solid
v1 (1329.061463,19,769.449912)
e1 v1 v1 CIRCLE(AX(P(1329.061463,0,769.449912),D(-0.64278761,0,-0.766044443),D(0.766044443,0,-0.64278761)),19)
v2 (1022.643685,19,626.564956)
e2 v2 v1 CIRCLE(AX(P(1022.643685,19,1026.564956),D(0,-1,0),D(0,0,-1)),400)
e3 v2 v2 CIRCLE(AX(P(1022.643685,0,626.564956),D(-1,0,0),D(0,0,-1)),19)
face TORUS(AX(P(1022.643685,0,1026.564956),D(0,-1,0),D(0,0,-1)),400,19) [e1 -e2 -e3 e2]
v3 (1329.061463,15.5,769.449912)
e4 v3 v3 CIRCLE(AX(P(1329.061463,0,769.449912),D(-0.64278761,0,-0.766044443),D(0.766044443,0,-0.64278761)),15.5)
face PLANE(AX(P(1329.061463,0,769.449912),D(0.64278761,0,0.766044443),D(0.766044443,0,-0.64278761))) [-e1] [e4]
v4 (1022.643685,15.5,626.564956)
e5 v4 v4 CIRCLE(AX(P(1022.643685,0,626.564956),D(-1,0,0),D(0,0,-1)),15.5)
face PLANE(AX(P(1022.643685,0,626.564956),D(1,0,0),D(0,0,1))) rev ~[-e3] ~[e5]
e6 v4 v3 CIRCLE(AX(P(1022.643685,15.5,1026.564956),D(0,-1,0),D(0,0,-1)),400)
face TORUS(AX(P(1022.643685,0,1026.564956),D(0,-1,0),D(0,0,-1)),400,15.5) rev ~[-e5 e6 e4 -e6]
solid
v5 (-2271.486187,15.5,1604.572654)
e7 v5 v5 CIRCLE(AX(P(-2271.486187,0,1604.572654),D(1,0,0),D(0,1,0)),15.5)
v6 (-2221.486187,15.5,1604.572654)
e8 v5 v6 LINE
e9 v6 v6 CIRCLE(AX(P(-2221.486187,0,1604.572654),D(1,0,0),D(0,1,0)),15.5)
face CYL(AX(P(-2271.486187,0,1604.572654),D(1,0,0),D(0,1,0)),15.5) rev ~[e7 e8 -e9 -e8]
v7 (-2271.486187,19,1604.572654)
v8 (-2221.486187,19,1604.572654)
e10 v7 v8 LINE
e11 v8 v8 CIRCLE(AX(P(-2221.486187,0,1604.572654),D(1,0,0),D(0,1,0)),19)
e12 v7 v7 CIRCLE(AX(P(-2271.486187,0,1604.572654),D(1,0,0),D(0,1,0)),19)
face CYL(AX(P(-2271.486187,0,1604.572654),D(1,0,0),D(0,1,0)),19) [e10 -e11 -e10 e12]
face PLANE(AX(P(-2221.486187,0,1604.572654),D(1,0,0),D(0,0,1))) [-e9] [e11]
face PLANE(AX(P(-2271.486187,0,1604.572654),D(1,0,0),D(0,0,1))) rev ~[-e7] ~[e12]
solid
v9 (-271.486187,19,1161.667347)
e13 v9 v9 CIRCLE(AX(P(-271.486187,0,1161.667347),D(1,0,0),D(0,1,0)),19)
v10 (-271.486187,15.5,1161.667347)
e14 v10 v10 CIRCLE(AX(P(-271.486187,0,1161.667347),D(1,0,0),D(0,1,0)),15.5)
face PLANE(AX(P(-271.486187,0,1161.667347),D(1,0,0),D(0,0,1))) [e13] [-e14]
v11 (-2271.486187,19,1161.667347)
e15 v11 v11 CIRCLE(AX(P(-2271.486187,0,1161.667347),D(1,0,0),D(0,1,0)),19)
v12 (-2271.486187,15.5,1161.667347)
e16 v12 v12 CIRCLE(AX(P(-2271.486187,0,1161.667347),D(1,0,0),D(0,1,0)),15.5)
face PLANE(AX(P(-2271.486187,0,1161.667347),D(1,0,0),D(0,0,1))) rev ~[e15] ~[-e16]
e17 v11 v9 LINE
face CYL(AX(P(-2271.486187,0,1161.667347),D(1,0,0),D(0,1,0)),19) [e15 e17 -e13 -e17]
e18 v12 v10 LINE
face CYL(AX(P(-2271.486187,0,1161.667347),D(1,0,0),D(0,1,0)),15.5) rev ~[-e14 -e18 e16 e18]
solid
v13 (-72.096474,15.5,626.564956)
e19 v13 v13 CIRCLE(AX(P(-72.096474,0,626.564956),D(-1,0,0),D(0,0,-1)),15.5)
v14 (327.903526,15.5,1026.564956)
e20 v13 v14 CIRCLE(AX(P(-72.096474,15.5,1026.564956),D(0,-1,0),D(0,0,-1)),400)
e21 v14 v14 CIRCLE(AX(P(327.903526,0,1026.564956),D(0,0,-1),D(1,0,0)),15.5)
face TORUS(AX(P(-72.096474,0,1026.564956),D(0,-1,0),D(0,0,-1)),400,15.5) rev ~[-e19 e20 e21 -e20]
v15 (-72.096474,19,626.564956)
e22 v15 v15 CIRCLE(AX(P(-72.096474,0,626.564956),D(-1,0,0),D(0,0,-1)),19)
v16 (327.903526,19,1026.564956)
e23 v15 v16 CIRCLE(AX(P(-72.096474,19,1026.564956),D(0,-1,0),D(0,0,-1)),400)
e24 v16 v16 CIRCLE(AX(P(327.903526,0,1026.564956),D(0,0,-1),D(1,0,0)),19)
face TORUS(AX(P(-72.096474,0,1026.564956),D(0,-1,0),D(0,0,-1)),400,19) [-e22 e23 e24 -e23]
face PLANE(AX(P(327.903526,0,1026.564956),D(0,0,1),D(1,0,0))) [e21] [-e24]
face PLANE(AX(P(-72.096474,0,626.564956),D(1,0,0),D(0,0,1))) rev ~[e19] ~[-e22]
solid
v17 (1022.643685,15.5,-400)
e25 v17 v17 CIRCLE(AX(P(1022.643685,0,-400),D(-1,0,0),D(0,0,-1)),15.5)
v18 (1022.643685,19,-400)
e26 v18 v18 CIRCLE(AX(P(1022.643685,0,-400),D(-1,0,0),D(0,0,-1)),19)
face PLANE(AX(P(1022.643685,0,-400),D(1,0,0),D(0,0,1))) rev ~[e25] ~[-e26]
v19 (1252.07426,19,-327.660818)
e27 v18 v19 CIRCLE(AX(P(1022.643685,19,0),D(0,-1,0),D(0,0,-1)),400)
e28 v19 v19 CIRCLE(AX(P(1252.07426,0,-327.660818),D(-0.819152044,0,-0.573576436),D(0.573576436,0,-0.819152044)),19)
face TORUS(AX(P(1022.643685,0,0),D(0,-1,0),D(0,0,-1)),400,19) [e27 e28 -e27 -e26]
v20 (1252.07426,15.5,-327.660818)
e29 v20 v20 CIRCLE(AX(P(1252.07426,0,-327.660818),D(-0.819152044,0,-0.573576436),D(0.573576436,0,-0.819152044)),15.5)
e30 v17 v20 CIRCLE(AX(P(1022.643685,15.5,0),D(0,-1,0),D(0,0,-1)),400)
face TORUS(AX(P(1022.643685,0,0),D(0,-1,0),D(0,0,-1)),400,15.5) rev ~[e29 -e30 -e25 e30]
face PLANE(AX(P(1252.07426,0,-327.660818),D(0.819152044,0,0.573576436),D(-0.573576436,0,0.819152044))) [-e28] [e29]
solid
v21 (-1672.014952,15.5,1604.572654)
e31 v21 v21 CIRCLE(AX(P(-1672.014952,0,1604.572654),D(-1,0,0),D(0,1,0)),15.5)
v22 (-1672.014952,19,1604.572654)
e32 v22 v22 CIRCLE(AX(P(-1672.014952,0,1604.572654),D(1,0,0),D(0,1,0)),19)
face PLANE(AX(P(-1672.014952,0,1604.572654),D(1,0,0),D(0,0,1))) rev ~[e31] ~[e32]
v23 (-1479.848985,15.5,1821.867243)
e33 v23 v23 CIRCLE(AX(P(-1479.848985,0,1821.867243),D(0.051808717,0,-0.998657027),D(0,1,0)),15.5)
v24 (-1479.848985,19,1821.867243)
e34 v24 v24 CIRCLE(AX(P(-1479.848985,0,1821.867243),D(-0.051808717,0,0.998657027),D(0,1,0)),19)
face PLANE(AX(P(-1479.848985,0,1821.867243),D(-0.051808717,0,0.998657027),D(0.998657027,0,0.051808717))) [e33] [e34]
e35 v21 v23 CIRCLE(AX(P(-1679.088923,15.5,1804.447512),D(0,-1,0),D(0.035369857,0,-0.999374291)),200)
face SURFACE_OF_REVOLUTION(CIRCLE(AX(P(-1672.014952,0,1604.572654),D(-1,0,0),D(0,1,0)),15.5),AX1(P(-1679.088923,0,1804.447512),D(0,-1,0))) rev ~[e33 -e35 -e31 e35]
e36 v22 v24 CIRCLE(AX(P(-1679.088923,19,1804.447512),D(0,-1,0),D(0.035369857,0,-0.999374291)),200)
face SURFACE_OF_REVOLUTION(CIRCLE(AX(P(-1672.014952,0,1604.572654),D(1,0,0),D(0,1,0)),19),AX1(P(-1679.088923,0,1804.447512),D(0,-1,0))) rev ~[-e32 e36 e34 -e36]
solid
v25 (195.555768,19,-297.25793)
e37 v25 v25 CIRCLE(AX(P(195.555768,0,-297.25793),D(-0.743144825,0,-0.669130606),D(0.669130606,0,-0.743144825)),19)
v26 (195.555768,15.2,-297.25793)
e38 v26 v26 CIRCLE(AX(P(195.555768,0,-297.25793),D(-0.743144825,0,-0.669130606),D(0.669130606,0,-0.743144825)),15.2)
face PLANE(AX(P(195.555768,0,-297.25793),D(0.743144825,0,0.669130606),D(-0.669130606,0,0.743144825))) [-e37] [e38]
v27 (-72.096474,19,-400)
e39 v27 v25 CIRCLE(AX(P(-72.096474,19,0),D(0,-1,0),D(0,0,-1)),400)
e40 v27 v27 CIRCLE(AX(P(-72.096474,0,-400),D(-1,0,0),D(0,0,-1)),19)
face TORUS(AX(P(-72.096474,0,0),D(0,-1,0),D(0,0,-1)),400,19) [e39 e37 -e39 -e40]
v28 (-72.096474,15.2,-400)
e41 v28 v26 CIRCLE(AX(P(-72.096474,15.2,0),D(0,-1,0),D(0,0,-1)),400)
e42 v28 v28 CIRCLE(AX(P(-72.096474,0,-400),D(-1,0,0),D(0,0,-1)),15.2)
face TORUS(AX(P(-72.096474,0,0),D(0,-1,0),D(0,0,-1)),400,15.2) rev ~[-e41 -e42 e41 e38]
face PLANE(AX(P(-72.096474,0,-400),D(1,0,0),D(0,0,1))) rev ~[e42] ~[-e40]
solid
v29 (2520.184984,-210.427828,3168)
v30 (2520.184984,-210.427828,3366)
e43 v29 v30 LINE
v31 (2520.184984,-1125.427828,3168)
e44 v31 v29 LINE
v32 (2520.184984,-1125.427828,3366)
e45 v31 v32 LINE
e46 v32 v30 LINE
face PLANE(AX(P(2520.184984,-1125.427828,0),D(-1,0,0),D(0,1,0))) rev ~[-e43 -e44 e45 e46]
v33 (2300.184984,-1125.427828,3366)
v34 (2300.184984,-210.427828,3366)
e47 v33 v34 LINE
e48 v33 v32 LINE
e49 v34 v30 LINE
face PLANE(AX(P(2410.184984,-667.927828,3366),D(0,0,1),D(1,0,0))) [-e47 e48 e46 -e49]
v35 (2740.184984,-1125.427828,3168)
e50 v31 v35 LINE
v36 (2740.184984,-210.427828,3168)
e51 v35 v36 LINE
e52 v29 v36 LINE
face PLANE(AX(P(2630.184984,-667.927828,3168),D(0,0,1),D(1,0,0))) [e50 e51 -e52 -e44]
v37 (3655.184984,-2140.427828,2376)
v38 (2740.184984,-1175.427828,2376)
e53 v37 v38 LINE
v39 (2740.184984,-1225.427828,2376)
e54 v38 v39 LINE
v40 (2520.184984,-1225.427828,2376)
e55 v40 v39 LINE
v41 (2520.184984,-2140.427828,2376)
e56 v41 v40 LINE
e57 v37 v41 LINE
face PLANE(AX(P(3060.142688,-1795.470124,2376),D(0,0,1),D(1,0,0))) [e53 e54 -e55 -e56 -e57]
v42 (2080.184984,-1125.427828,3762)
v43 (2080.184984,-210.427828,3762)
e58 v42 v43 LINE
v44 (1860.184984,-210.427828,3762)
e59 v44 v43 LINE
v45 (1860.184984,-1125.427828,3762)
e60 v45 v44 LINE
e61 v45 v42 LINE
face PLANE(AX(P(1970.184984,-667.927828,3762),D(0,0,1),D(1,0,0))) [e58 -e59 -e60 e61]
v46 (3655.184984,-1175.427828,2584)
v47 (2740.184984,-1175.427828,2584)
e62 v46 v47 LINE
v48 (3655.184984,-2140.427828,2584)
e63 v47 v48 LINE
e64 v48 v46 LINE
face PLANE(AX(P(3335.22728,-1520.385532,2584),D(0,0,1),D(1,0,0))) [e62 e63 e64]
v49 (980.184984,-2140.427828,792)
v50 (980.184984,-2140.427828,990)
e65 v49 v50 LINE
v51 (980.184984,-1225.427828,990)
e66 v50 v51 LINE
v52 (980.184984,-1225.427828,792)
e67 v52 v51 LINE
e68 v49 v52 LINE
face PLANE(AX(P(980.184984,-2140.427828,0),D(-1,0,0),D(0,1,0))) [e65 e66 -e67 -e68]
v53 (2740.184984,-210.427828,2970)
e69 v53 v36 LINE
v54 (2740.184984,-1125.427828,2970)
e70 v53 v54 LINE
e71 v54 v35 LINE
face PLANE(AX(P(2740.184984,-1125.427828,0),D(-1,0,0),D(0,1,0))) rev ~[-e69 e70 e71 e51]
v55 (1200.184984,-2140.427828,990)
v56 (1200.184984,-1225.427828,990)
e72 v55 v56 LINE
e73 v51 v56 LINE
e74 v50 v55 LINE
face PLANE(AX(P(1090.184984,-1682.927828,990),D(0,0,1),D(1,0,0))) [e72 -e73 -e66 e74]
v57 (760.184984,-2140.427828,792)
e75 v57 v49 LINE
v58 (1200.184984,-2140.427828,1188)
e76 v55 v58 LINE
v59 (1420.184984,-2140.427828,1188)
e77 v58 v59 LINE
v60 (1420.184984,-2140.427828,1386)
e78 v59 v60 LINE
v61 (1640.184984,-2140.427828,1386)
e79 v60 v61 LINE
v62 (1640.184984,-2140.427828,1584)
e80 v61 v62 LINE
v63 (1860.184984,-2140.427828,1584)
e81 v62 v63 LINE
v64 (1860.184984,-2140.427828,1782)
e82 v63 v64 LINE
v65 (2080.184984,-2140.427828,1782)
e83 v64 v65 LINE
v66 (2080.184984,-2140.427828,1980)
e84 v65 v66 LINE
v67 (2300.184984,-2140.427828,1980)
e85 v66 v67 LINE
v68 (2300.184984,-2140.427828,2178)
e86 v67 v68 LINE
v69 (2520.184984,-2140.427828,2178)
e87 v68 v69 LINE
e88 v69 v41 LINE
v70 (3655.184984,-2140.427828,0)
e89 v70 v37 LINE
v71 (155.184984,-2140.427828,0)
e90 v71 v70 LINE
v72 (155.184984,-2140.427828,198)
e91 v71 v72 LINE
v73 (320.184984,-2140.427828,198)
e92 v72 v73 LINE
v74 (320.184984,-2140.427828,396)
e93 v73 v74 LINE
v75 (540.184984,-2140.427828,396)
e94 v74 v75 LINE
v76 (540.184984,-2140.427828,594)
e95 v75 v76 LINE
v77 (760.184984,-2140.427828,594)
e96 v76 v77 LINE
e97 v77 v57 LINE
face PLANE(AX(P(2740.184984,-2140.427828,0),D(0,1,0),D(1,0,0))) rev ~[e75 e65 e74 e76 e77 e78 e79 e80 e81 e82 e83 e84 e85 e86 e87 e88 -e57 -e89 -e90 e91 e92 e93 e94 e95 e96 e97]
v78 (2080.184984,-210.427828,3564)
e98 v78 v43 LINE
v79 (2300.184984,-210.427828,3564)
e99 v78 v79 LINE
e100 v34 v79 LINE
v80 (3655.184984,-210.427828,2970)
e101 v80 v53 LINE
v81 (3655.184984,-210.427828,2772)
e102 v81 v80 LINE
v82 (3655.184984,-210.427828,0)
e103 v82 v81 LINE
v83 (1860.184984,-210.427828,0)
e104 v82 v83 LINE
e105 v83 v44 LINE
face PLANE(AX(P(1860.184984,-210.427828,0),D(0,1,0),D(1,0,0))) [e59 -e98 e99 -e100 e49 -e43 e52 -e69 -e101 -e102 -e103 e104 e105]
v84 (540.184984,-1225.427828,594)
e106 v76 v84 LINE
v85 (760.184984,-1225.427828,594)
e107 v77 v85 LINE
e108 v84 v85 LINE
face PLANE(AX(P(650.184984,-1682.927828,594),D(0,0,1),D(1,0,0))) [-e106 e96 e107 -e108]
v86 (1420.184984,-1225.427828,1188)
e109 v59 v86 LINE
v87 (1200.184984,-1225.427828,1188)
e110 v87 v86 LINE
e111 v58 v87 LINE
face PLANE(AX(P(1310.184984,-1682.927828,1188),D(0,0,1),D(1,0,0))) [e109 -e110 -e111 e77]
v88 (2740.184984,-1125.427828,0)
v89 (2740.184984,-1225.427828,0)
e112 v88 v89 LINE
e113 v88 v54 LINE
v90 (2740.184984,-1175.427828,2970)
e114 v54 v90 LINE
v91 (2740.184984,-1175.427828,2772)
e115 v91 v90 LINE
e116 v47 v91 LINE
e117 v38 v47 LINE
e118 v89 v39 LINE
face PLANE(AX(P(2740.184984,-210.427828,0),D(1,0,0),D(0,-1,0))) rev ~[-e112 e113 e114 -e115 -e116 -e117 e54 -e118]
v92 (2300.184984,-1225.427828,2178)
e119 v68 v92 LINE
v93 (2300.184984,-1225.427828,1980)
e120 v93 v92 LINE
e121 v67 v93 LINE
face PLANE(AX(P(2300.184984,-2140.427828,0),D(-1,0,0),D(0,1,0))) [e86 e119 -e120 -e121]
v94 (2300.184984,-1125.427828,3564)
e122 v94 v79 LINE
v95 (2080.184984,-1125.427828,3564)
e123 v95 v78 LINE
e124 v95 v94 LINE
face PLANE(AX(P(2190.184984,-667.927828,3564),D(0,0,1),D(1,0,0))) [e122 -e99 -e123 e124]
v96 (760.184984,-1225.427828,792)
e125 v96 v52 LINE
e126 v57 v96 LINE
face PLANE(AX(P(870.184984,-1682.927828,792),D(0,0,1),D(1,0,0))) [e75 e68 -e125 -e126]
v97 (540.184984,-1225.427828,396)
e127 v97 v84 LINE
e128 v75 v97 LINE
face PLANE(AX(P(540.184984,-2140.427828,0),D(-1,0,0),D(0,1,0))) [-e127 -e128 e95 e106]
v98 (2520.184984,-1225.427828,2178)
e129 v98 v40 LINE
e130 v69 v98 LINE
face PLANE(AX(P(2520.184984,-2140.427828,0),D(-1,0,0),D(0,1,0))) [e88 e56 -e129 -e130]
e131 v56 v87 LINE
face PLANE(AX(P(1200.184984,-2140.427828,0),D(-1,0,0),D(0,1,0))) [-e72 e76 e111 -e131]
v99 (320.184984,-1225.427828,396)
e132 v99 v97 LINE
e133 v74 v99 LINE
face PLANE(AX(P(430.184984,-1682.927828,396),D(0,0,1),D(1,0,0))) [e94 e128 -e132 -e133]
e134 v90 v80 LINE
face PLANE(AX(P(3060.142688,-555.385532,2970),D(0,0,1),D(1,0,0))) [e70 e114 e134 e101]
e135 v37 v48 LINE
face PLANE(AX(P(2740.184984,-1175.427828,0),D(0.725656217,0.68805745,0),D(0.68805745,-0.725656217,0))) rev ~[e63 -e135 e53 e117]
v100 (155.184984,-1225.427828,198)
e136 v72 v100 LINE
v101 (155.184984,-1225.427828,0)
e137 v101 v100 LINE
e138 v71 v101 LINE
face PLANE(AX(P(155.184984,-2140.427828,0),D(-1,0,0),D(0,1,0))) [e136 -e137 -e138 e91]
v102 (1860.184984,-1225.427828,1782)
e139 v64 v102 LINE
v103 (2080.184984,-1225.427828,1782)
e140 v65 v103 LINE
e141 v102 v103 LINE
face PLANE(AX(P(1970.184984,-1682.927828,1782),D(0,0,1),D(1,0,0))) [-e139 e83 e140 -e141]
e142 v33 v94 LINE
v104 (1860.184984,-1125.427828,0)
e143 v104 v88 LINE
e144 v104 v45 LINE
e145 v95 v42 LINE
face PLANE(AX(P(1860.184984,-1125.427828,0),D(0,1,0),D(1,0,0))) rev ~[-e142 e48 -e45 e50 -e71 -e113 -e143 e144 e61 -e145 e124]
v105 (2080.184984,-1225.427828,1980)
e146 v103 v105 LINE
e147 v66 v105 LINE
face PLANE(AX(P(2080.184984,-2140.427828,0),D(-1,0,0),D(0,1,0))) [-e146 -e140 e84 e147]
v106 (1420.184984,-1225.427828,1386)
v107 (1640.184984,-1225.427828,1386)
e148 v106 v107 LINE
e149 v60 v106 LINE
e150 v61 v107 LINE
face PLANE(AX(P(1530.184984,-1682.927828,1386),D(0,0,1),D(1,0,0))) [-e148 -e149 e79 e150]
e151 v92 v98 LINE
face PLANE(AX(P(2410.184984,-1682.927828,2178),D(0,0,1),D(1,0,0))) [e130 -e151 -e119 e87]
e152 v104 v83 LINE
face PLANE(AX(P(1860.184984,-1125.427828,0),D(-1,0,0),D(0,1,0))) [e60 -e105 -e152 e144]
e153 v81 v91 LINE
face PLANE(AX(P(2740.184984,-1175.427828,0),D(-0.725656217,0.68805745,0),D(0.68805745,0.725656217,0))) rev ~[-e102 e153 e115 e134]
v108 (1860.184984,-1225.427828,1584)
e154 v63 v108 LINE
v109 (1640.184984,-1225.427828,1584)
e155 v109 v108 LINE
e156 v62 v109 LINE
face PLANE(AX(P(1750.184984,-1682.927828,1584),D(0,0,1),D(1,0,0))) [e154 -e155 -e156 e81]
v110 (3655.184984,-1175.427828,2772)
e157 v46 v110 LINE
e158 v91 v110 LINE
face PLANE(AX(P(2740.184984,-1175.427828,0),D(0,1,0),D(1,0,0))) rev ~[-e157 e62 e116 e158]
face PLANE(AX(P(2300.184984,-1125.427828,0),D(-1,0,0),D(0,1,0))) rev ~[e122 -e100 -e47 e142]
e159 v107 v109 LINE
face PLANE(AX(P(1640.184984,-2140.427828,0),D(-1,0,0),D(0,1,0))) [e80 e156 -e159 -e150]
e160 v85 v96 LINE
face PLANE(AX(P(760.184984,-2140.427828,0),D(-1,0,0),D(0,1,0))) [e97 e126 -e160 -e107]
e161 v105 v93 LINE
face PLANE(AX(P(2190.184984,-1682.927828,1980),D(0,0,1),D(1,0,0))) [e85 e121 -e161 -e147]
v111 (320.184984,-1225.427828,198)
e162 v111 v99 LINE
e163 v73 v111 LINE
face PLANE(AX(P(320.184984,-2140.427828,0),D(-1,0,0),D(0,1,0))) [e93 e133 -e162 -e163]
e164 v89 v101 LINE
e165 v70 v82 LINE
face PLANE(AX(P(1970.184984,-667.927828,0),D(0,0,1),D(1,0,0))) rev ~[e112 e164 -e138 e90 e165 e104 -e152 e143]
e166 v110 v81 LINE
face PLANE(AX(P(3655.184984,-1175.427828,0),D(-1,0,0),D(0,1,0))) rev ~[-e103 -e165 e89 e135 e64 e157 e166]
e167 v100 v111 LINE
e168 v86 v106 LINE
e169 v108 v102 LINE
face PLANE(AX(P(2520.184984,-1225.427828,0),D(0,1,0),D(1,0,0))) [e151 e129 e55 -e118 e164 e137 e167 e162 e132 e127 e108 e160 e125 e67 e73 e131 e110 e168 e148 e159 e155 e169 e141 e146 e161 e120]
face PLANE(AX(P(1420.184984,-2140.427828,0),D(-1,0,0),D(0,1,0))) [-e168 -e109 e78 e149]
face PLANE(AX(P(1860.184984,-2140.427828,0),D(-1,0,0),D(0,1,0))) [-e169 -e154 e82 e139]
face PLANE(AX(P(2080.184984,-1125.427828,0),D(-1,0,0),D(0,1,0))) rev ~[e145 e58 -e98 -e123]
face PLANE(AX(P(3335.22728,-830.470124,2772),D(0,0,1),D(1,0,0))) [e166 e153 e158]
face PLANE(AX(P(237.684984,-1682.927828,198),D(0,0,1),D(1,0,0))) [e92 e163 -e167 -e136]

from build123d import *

# Parameters (mm, degrees)
F8_R      = 19
F8_R_2    = 15.5
F6_R      = 19
F6_R_2    = 15.5
F2_R      = 19
F2_R_2    = 15.5
F4_R      = 19
F4_R_2    = 15.2
F13_W     = 165
F13_H     = 915
F14_DEPTH = 198
F13_W_2   = 220
F15_DEPTH = 396
F16_DEPTH = 594
F17_DEPTH = 792
F18_DEPTH = 990
F19_DEPTH = 1188
F20_DEPTH = 1386
F21_DEPTH = 1584
F22_DEPTH = 1782
F23_DEPTH = 1980
F24_DEPTH = 2178
F25_DEPTH = 2376
F26_DEPTH = 2376
F27_DEPTH = 2584
F28_DEPTH = 2772
F29_DEPTH = 2970
F30_DEPTH = 3168
F31_DEPTH = 3366
F32_DEPTH = 3564
F33_DEPTH = 3762
F36_R     = 19
F36_R_2   = 15.5
F38_R     = 19
F38_R_2   = 15.5
F40_R     = 19
F40_R_2   = 15.5


with BuildPart() as f9:
    # F9: sweep along a path in F0
    with BuildLine(Plane.XZ) as f9_path:
        ThreePointArc((1022.6436853409, -400), (1142.9260051426, -381.4867802993), (1252.0742598813, -327.6608177156))
    # F8 (on plane+point) → F9 (sweep)
    with BuildSketch(Plane.YZ.offset(1022.6436853409)):
        with Locations((0, -400)):
            Circle(F8_R)
        with Locations((0, -400)):
            Circle(F8_R_2, mode=Mode.SUBTRACT)
    sweep(path=f9_path.line)


with BuildPart() as f10:
    # F10: sweep along a path in F0
    with BuildLine(Plane.XZ) as f10_path:
        ThreePointArc((1022.6436853409, 626.5649557114), (1191.6909900372, 664.0418408967), (1329.0614625885, 769.4499118367))
    # F6 (on plane+point) → F10 (sweep)
    with BuildSketch(Plane.YZ.offset(1022.6436853409)):
        with Locations((0, 626.5649557114)):
            Circle(F6_R)
        with Locations((0, 626.5649557114)):
            Circle(F6_R_2, mode=Mode.SUBTRACT)
    sweep(path=f10_path.line)


with BuildPart() as f11:
    # F11: sweep along a path in F0
    with BuildLine(Plane.XZ) as f11_path:
        ThreePointArc((-72.0964744687, 626.5649557114), (210.7462380059, 743.7222432367), (327.9035255313, 1026.5649557114))
    # F2 (on plane+point) → F11 (sweep)
    with BuildSketch(Plane.YZ.offset(-72.0964744687)):
        with Locations((0, 626.5649557114)):
            Circle(F2_R)
        with Locations((0, 626.5649557114)):
            Circle(F2_R_2, mode=Mode.SUBTRACT)
    sweep(path=f11_path.line)


with BuildPart() as f12:
    # F12: sweep along a path in F0
    with BuildLine(Plane.XZ) as f12_path:
        ThreePointArc((-72.0964744687, -400), (71.2507053494, -373.4321705989), (195.5557680748, -297.257930191))
    # F4 (on plane+point) → F12 (sweep)
    with BuildSketch(Plane.YZ.offset(-72.0964744687)):
        with Locations((0, -400)):
            Circle(F4_R)
        with Locations((0, -400)):
            Circle(F4_R_2, mode=Mode.SUBTRACT)
    sweep(path=f12_path.line)


with BuildPart() as f14:
    # F13 (on Top) → F14 (new body)
    with BuildSketch(Plane.XY):
        with Locations((237.6849842072, -1682.9278278351)):
            Rectangle(F13_W, F13_H)
    extrude(amount=F14_DEPTH)

    # F13 (on Top) → F15 (join)
    with BuildSketch(Plane.XY):
        with Locations((430.1849842072, -1682.9278278351)):
            Rectangle(F13_W_2, F13_H)
    extrude(amount=F15_DEPTH)

    # F13 (on Top) → F16 (join)
    with BuildSketch(Plane.XY):
        with Locations((650.1849842072, -1682.9278278351)):
            Rectangle(F13_W_2, F13_H)
    extrude(amount=F16_DEPTH)

    # F13 (on Top) → F17 (join)
    with BuildSketch(Plane.XY):
        with Locations((870.1849842072, -1682.9278278351)):
            Rectangle(F13_W_2, F13_H)
    extrude(amount=F17_DEPTH)

    # F13 (on Top) → F18 (join)
    with BuildSketch(Plane.XY):
        with Locations((1090.1849842072, -1682.9278278351)):
            Rectangle(F13_W_2, F13_H)
    extrude(amount=F18_DEPTH)

    # F13 (on Top) → F19 (join)
    with BuildSketch(Plane.XY):
        with Locations((1310.1849842072, -1682.9278278351)):
            Rectangle(F13_W_2, F13_H)
    extrude(amount=F19_DEPTH)

    # F13 (on Top) → F20 (join)
    with BuildSketch(Plane.XY):
        with Locations((1530.1849842072, -1682.9278278351)):
            Rectangle(F13_W_2, F13_H)
    extrude(amount=F20_DEPTH)

    # F13 (on Top) → F21 (join)
    with BuildSketch(Plane.XY):
        with Locations((1750.1849842072, -1682.9278278351)):
            Rectangle(F13_W_2, F13_H)
    extrude(amount=F21_DEPTH)

    # F13 (on Top) → F22 (join)
    with BuildSketch(Plane.XY):
        with Locations((1970.1849842072, -1682.9278278351)):
            Rectangle(F13_W_2, F13_H)
    extrude(amount=F22_DEPTH)

    # F13 (on Top) → F23 (join)
    with BuildSketch(Plane.XY):
        with Locations((2190.1849842072, -1682.9278278351)):
            Rectangle(F13_W_2, F13_H)
    extrude(amount=F23_DEPTH)

    # F13 (on Top) → F24 (join)
    with BuildSketch(Plane.XY):
        with Locations((2410.1849842072, -1682.9278278351)):
            Rectangle(F13_W_2, F13_H)
    extrude(amount=F24_DEPTH)

    # F13 (on Top) → F25 (join)
    with BuildSketch(Plane.XY):
        with Locations((2630.1849842072, -1682.9278278351)):
            Rectangle(F13_W_2, F13_H)
    extrude(amount=F25_DEPTH)

    # F13 (on Top) → F26 (join)
    with BuildSketch(Plane.XY):
        Polygon((3655.1849842072, -2140.4278278351), (2740.1849842072, -1175.4278278351), (2740.1849842072, -1225.4278278351), (2740.1849842072, -2140.4278278351), align=None)
    extrude(amount=F26_DEPTH)

    # F13 (on Top) → F27 (join)
    with BuildSketch(Plane.XY):
        Polygon((3655.1849842072, -2140.4278278351), (3655.1849842072, -1175.4278278351), (2740.1849842072, -1175.4278278351), align=None)
    extrude(amount=F27_DEPTH)

    # F13 (on Top) → F28 (join)
    with BuildSketch(Plane.XY):
        Polygon((3655.1849842072, -1175.4278278351), (3655.1849842072, -210.4278278351), (2740.1849842072, -1175.4278278351), align=None)
    extrude(amount=F28_DEPTH)

    # F13 (on Top) → F29 (join)
    with BuildSketch(Plane.XY):
        Polygon((3655.1849842072, -210.4278278351), (2740.1849842072, -210.4278278351), (2740.1849842072, -1125.4278278351), (2740.1849842072, -1175.4278278351), align=None)
    extrude(amount=F29_DEPTH)

    # F13 (on Top) → F30 (join)
    with BuildSketch(Plane.XY):
        with Locations((2630.1849842072, -667.9278278351)):
            Rectangle(F13_W_2, F13_H)
    extrude(amount=F30_DEPTH)

    # F13 (on Top) → F31 (join)
    with BuildSketch(Plane.XY):
        with Locations((2410.1849842072, -667.9278278351)):
            Rectangle(F13_W_2, F13_H)
    extrude(amount=F31_DEPTH)

    # F13 (on Top) → F32 (join)
    with BuildSketch(Plane.XY):
        with Locations((2190.1849842072, -667.9278278351)):
            Rectangle(F13_W_2, F13_H)
    extrude(amount=F32_DEPTH)

    # F13 (on Top) → F33 (join)
    with BuildSketch(Plane.XY):
        with Locations((1970.1849842072, -667.9278278351)):
            Rectangle(F13_W_2, F13_H)
    extrude(amount=F33_DEPTH)


with BuildPart() as f41:
    # F41: sweep along a path in F34
    with BuildLine(Plane.XZ) as f41_path:
        Line((-2271.4861869812, 1604.5726537704), (-2221.4861869812, 1604.5726537704))
    # F36 (on plane+point) → F41 (sweep)
    with BuildSketch(Plane.YZ.offset(-2271.4861869812)):
        with Locations((0, 1604.5726537704)):
            Circle(F36_R)
        with Locations((0, 1604.5726537704)):
            Circle(F36_R_2, mode=Mode.SUBTRACT)
    sweep(path=f41_path.line)


with BuildPart() as f42:
    # F42: sweep along a path in F34
    with BuildLine(Plane.XZ) as f42_path:
        ThreePointArc((-1672.0149517059, 1604.5726537704), (-1529.270392945, 1671.9544629138), (-1479.8489848613, 1821.8672431639))
    # F38 (on plane+point) → F42 (sweep)
    with BuildSketch(Plane.YZ.offset(-1672.0149517059)):
        with Locations((0, 1604.5726537704)):
            Circle(F38_R)
        with Locations((0, 1604.5726537704)):
            Circle(F38_R_2, mode=Mode.SUBTRACT)
    sweep(path=f42_path.line)


with BuildPart() as f43:
    # F43: sweep along a path in F34
    with BuildLine(Plane.XZ) as f43_path:
        Line((-2271.4861869812, 1161.6673469543), (-271.4861869812, 1161.6673469543))
    # F40 (on plane+point) → F43 (sweep)
    with BuildSketch(Plane.YZ.offset(-2271.4861869812)):
        with Locations((0, 1161.6673469543)):
            Circle(F40_R)
        with Locations((0, 1161.6673469543)):
            Circle(F40_R_2, mode=Mode.SUBTRACT)
    sweep(path=f43_path.line)


solid = Compound([f9.part, f10.part, f11.part, f12.part, f14.part, f41.part, f42.part, f43.part])
